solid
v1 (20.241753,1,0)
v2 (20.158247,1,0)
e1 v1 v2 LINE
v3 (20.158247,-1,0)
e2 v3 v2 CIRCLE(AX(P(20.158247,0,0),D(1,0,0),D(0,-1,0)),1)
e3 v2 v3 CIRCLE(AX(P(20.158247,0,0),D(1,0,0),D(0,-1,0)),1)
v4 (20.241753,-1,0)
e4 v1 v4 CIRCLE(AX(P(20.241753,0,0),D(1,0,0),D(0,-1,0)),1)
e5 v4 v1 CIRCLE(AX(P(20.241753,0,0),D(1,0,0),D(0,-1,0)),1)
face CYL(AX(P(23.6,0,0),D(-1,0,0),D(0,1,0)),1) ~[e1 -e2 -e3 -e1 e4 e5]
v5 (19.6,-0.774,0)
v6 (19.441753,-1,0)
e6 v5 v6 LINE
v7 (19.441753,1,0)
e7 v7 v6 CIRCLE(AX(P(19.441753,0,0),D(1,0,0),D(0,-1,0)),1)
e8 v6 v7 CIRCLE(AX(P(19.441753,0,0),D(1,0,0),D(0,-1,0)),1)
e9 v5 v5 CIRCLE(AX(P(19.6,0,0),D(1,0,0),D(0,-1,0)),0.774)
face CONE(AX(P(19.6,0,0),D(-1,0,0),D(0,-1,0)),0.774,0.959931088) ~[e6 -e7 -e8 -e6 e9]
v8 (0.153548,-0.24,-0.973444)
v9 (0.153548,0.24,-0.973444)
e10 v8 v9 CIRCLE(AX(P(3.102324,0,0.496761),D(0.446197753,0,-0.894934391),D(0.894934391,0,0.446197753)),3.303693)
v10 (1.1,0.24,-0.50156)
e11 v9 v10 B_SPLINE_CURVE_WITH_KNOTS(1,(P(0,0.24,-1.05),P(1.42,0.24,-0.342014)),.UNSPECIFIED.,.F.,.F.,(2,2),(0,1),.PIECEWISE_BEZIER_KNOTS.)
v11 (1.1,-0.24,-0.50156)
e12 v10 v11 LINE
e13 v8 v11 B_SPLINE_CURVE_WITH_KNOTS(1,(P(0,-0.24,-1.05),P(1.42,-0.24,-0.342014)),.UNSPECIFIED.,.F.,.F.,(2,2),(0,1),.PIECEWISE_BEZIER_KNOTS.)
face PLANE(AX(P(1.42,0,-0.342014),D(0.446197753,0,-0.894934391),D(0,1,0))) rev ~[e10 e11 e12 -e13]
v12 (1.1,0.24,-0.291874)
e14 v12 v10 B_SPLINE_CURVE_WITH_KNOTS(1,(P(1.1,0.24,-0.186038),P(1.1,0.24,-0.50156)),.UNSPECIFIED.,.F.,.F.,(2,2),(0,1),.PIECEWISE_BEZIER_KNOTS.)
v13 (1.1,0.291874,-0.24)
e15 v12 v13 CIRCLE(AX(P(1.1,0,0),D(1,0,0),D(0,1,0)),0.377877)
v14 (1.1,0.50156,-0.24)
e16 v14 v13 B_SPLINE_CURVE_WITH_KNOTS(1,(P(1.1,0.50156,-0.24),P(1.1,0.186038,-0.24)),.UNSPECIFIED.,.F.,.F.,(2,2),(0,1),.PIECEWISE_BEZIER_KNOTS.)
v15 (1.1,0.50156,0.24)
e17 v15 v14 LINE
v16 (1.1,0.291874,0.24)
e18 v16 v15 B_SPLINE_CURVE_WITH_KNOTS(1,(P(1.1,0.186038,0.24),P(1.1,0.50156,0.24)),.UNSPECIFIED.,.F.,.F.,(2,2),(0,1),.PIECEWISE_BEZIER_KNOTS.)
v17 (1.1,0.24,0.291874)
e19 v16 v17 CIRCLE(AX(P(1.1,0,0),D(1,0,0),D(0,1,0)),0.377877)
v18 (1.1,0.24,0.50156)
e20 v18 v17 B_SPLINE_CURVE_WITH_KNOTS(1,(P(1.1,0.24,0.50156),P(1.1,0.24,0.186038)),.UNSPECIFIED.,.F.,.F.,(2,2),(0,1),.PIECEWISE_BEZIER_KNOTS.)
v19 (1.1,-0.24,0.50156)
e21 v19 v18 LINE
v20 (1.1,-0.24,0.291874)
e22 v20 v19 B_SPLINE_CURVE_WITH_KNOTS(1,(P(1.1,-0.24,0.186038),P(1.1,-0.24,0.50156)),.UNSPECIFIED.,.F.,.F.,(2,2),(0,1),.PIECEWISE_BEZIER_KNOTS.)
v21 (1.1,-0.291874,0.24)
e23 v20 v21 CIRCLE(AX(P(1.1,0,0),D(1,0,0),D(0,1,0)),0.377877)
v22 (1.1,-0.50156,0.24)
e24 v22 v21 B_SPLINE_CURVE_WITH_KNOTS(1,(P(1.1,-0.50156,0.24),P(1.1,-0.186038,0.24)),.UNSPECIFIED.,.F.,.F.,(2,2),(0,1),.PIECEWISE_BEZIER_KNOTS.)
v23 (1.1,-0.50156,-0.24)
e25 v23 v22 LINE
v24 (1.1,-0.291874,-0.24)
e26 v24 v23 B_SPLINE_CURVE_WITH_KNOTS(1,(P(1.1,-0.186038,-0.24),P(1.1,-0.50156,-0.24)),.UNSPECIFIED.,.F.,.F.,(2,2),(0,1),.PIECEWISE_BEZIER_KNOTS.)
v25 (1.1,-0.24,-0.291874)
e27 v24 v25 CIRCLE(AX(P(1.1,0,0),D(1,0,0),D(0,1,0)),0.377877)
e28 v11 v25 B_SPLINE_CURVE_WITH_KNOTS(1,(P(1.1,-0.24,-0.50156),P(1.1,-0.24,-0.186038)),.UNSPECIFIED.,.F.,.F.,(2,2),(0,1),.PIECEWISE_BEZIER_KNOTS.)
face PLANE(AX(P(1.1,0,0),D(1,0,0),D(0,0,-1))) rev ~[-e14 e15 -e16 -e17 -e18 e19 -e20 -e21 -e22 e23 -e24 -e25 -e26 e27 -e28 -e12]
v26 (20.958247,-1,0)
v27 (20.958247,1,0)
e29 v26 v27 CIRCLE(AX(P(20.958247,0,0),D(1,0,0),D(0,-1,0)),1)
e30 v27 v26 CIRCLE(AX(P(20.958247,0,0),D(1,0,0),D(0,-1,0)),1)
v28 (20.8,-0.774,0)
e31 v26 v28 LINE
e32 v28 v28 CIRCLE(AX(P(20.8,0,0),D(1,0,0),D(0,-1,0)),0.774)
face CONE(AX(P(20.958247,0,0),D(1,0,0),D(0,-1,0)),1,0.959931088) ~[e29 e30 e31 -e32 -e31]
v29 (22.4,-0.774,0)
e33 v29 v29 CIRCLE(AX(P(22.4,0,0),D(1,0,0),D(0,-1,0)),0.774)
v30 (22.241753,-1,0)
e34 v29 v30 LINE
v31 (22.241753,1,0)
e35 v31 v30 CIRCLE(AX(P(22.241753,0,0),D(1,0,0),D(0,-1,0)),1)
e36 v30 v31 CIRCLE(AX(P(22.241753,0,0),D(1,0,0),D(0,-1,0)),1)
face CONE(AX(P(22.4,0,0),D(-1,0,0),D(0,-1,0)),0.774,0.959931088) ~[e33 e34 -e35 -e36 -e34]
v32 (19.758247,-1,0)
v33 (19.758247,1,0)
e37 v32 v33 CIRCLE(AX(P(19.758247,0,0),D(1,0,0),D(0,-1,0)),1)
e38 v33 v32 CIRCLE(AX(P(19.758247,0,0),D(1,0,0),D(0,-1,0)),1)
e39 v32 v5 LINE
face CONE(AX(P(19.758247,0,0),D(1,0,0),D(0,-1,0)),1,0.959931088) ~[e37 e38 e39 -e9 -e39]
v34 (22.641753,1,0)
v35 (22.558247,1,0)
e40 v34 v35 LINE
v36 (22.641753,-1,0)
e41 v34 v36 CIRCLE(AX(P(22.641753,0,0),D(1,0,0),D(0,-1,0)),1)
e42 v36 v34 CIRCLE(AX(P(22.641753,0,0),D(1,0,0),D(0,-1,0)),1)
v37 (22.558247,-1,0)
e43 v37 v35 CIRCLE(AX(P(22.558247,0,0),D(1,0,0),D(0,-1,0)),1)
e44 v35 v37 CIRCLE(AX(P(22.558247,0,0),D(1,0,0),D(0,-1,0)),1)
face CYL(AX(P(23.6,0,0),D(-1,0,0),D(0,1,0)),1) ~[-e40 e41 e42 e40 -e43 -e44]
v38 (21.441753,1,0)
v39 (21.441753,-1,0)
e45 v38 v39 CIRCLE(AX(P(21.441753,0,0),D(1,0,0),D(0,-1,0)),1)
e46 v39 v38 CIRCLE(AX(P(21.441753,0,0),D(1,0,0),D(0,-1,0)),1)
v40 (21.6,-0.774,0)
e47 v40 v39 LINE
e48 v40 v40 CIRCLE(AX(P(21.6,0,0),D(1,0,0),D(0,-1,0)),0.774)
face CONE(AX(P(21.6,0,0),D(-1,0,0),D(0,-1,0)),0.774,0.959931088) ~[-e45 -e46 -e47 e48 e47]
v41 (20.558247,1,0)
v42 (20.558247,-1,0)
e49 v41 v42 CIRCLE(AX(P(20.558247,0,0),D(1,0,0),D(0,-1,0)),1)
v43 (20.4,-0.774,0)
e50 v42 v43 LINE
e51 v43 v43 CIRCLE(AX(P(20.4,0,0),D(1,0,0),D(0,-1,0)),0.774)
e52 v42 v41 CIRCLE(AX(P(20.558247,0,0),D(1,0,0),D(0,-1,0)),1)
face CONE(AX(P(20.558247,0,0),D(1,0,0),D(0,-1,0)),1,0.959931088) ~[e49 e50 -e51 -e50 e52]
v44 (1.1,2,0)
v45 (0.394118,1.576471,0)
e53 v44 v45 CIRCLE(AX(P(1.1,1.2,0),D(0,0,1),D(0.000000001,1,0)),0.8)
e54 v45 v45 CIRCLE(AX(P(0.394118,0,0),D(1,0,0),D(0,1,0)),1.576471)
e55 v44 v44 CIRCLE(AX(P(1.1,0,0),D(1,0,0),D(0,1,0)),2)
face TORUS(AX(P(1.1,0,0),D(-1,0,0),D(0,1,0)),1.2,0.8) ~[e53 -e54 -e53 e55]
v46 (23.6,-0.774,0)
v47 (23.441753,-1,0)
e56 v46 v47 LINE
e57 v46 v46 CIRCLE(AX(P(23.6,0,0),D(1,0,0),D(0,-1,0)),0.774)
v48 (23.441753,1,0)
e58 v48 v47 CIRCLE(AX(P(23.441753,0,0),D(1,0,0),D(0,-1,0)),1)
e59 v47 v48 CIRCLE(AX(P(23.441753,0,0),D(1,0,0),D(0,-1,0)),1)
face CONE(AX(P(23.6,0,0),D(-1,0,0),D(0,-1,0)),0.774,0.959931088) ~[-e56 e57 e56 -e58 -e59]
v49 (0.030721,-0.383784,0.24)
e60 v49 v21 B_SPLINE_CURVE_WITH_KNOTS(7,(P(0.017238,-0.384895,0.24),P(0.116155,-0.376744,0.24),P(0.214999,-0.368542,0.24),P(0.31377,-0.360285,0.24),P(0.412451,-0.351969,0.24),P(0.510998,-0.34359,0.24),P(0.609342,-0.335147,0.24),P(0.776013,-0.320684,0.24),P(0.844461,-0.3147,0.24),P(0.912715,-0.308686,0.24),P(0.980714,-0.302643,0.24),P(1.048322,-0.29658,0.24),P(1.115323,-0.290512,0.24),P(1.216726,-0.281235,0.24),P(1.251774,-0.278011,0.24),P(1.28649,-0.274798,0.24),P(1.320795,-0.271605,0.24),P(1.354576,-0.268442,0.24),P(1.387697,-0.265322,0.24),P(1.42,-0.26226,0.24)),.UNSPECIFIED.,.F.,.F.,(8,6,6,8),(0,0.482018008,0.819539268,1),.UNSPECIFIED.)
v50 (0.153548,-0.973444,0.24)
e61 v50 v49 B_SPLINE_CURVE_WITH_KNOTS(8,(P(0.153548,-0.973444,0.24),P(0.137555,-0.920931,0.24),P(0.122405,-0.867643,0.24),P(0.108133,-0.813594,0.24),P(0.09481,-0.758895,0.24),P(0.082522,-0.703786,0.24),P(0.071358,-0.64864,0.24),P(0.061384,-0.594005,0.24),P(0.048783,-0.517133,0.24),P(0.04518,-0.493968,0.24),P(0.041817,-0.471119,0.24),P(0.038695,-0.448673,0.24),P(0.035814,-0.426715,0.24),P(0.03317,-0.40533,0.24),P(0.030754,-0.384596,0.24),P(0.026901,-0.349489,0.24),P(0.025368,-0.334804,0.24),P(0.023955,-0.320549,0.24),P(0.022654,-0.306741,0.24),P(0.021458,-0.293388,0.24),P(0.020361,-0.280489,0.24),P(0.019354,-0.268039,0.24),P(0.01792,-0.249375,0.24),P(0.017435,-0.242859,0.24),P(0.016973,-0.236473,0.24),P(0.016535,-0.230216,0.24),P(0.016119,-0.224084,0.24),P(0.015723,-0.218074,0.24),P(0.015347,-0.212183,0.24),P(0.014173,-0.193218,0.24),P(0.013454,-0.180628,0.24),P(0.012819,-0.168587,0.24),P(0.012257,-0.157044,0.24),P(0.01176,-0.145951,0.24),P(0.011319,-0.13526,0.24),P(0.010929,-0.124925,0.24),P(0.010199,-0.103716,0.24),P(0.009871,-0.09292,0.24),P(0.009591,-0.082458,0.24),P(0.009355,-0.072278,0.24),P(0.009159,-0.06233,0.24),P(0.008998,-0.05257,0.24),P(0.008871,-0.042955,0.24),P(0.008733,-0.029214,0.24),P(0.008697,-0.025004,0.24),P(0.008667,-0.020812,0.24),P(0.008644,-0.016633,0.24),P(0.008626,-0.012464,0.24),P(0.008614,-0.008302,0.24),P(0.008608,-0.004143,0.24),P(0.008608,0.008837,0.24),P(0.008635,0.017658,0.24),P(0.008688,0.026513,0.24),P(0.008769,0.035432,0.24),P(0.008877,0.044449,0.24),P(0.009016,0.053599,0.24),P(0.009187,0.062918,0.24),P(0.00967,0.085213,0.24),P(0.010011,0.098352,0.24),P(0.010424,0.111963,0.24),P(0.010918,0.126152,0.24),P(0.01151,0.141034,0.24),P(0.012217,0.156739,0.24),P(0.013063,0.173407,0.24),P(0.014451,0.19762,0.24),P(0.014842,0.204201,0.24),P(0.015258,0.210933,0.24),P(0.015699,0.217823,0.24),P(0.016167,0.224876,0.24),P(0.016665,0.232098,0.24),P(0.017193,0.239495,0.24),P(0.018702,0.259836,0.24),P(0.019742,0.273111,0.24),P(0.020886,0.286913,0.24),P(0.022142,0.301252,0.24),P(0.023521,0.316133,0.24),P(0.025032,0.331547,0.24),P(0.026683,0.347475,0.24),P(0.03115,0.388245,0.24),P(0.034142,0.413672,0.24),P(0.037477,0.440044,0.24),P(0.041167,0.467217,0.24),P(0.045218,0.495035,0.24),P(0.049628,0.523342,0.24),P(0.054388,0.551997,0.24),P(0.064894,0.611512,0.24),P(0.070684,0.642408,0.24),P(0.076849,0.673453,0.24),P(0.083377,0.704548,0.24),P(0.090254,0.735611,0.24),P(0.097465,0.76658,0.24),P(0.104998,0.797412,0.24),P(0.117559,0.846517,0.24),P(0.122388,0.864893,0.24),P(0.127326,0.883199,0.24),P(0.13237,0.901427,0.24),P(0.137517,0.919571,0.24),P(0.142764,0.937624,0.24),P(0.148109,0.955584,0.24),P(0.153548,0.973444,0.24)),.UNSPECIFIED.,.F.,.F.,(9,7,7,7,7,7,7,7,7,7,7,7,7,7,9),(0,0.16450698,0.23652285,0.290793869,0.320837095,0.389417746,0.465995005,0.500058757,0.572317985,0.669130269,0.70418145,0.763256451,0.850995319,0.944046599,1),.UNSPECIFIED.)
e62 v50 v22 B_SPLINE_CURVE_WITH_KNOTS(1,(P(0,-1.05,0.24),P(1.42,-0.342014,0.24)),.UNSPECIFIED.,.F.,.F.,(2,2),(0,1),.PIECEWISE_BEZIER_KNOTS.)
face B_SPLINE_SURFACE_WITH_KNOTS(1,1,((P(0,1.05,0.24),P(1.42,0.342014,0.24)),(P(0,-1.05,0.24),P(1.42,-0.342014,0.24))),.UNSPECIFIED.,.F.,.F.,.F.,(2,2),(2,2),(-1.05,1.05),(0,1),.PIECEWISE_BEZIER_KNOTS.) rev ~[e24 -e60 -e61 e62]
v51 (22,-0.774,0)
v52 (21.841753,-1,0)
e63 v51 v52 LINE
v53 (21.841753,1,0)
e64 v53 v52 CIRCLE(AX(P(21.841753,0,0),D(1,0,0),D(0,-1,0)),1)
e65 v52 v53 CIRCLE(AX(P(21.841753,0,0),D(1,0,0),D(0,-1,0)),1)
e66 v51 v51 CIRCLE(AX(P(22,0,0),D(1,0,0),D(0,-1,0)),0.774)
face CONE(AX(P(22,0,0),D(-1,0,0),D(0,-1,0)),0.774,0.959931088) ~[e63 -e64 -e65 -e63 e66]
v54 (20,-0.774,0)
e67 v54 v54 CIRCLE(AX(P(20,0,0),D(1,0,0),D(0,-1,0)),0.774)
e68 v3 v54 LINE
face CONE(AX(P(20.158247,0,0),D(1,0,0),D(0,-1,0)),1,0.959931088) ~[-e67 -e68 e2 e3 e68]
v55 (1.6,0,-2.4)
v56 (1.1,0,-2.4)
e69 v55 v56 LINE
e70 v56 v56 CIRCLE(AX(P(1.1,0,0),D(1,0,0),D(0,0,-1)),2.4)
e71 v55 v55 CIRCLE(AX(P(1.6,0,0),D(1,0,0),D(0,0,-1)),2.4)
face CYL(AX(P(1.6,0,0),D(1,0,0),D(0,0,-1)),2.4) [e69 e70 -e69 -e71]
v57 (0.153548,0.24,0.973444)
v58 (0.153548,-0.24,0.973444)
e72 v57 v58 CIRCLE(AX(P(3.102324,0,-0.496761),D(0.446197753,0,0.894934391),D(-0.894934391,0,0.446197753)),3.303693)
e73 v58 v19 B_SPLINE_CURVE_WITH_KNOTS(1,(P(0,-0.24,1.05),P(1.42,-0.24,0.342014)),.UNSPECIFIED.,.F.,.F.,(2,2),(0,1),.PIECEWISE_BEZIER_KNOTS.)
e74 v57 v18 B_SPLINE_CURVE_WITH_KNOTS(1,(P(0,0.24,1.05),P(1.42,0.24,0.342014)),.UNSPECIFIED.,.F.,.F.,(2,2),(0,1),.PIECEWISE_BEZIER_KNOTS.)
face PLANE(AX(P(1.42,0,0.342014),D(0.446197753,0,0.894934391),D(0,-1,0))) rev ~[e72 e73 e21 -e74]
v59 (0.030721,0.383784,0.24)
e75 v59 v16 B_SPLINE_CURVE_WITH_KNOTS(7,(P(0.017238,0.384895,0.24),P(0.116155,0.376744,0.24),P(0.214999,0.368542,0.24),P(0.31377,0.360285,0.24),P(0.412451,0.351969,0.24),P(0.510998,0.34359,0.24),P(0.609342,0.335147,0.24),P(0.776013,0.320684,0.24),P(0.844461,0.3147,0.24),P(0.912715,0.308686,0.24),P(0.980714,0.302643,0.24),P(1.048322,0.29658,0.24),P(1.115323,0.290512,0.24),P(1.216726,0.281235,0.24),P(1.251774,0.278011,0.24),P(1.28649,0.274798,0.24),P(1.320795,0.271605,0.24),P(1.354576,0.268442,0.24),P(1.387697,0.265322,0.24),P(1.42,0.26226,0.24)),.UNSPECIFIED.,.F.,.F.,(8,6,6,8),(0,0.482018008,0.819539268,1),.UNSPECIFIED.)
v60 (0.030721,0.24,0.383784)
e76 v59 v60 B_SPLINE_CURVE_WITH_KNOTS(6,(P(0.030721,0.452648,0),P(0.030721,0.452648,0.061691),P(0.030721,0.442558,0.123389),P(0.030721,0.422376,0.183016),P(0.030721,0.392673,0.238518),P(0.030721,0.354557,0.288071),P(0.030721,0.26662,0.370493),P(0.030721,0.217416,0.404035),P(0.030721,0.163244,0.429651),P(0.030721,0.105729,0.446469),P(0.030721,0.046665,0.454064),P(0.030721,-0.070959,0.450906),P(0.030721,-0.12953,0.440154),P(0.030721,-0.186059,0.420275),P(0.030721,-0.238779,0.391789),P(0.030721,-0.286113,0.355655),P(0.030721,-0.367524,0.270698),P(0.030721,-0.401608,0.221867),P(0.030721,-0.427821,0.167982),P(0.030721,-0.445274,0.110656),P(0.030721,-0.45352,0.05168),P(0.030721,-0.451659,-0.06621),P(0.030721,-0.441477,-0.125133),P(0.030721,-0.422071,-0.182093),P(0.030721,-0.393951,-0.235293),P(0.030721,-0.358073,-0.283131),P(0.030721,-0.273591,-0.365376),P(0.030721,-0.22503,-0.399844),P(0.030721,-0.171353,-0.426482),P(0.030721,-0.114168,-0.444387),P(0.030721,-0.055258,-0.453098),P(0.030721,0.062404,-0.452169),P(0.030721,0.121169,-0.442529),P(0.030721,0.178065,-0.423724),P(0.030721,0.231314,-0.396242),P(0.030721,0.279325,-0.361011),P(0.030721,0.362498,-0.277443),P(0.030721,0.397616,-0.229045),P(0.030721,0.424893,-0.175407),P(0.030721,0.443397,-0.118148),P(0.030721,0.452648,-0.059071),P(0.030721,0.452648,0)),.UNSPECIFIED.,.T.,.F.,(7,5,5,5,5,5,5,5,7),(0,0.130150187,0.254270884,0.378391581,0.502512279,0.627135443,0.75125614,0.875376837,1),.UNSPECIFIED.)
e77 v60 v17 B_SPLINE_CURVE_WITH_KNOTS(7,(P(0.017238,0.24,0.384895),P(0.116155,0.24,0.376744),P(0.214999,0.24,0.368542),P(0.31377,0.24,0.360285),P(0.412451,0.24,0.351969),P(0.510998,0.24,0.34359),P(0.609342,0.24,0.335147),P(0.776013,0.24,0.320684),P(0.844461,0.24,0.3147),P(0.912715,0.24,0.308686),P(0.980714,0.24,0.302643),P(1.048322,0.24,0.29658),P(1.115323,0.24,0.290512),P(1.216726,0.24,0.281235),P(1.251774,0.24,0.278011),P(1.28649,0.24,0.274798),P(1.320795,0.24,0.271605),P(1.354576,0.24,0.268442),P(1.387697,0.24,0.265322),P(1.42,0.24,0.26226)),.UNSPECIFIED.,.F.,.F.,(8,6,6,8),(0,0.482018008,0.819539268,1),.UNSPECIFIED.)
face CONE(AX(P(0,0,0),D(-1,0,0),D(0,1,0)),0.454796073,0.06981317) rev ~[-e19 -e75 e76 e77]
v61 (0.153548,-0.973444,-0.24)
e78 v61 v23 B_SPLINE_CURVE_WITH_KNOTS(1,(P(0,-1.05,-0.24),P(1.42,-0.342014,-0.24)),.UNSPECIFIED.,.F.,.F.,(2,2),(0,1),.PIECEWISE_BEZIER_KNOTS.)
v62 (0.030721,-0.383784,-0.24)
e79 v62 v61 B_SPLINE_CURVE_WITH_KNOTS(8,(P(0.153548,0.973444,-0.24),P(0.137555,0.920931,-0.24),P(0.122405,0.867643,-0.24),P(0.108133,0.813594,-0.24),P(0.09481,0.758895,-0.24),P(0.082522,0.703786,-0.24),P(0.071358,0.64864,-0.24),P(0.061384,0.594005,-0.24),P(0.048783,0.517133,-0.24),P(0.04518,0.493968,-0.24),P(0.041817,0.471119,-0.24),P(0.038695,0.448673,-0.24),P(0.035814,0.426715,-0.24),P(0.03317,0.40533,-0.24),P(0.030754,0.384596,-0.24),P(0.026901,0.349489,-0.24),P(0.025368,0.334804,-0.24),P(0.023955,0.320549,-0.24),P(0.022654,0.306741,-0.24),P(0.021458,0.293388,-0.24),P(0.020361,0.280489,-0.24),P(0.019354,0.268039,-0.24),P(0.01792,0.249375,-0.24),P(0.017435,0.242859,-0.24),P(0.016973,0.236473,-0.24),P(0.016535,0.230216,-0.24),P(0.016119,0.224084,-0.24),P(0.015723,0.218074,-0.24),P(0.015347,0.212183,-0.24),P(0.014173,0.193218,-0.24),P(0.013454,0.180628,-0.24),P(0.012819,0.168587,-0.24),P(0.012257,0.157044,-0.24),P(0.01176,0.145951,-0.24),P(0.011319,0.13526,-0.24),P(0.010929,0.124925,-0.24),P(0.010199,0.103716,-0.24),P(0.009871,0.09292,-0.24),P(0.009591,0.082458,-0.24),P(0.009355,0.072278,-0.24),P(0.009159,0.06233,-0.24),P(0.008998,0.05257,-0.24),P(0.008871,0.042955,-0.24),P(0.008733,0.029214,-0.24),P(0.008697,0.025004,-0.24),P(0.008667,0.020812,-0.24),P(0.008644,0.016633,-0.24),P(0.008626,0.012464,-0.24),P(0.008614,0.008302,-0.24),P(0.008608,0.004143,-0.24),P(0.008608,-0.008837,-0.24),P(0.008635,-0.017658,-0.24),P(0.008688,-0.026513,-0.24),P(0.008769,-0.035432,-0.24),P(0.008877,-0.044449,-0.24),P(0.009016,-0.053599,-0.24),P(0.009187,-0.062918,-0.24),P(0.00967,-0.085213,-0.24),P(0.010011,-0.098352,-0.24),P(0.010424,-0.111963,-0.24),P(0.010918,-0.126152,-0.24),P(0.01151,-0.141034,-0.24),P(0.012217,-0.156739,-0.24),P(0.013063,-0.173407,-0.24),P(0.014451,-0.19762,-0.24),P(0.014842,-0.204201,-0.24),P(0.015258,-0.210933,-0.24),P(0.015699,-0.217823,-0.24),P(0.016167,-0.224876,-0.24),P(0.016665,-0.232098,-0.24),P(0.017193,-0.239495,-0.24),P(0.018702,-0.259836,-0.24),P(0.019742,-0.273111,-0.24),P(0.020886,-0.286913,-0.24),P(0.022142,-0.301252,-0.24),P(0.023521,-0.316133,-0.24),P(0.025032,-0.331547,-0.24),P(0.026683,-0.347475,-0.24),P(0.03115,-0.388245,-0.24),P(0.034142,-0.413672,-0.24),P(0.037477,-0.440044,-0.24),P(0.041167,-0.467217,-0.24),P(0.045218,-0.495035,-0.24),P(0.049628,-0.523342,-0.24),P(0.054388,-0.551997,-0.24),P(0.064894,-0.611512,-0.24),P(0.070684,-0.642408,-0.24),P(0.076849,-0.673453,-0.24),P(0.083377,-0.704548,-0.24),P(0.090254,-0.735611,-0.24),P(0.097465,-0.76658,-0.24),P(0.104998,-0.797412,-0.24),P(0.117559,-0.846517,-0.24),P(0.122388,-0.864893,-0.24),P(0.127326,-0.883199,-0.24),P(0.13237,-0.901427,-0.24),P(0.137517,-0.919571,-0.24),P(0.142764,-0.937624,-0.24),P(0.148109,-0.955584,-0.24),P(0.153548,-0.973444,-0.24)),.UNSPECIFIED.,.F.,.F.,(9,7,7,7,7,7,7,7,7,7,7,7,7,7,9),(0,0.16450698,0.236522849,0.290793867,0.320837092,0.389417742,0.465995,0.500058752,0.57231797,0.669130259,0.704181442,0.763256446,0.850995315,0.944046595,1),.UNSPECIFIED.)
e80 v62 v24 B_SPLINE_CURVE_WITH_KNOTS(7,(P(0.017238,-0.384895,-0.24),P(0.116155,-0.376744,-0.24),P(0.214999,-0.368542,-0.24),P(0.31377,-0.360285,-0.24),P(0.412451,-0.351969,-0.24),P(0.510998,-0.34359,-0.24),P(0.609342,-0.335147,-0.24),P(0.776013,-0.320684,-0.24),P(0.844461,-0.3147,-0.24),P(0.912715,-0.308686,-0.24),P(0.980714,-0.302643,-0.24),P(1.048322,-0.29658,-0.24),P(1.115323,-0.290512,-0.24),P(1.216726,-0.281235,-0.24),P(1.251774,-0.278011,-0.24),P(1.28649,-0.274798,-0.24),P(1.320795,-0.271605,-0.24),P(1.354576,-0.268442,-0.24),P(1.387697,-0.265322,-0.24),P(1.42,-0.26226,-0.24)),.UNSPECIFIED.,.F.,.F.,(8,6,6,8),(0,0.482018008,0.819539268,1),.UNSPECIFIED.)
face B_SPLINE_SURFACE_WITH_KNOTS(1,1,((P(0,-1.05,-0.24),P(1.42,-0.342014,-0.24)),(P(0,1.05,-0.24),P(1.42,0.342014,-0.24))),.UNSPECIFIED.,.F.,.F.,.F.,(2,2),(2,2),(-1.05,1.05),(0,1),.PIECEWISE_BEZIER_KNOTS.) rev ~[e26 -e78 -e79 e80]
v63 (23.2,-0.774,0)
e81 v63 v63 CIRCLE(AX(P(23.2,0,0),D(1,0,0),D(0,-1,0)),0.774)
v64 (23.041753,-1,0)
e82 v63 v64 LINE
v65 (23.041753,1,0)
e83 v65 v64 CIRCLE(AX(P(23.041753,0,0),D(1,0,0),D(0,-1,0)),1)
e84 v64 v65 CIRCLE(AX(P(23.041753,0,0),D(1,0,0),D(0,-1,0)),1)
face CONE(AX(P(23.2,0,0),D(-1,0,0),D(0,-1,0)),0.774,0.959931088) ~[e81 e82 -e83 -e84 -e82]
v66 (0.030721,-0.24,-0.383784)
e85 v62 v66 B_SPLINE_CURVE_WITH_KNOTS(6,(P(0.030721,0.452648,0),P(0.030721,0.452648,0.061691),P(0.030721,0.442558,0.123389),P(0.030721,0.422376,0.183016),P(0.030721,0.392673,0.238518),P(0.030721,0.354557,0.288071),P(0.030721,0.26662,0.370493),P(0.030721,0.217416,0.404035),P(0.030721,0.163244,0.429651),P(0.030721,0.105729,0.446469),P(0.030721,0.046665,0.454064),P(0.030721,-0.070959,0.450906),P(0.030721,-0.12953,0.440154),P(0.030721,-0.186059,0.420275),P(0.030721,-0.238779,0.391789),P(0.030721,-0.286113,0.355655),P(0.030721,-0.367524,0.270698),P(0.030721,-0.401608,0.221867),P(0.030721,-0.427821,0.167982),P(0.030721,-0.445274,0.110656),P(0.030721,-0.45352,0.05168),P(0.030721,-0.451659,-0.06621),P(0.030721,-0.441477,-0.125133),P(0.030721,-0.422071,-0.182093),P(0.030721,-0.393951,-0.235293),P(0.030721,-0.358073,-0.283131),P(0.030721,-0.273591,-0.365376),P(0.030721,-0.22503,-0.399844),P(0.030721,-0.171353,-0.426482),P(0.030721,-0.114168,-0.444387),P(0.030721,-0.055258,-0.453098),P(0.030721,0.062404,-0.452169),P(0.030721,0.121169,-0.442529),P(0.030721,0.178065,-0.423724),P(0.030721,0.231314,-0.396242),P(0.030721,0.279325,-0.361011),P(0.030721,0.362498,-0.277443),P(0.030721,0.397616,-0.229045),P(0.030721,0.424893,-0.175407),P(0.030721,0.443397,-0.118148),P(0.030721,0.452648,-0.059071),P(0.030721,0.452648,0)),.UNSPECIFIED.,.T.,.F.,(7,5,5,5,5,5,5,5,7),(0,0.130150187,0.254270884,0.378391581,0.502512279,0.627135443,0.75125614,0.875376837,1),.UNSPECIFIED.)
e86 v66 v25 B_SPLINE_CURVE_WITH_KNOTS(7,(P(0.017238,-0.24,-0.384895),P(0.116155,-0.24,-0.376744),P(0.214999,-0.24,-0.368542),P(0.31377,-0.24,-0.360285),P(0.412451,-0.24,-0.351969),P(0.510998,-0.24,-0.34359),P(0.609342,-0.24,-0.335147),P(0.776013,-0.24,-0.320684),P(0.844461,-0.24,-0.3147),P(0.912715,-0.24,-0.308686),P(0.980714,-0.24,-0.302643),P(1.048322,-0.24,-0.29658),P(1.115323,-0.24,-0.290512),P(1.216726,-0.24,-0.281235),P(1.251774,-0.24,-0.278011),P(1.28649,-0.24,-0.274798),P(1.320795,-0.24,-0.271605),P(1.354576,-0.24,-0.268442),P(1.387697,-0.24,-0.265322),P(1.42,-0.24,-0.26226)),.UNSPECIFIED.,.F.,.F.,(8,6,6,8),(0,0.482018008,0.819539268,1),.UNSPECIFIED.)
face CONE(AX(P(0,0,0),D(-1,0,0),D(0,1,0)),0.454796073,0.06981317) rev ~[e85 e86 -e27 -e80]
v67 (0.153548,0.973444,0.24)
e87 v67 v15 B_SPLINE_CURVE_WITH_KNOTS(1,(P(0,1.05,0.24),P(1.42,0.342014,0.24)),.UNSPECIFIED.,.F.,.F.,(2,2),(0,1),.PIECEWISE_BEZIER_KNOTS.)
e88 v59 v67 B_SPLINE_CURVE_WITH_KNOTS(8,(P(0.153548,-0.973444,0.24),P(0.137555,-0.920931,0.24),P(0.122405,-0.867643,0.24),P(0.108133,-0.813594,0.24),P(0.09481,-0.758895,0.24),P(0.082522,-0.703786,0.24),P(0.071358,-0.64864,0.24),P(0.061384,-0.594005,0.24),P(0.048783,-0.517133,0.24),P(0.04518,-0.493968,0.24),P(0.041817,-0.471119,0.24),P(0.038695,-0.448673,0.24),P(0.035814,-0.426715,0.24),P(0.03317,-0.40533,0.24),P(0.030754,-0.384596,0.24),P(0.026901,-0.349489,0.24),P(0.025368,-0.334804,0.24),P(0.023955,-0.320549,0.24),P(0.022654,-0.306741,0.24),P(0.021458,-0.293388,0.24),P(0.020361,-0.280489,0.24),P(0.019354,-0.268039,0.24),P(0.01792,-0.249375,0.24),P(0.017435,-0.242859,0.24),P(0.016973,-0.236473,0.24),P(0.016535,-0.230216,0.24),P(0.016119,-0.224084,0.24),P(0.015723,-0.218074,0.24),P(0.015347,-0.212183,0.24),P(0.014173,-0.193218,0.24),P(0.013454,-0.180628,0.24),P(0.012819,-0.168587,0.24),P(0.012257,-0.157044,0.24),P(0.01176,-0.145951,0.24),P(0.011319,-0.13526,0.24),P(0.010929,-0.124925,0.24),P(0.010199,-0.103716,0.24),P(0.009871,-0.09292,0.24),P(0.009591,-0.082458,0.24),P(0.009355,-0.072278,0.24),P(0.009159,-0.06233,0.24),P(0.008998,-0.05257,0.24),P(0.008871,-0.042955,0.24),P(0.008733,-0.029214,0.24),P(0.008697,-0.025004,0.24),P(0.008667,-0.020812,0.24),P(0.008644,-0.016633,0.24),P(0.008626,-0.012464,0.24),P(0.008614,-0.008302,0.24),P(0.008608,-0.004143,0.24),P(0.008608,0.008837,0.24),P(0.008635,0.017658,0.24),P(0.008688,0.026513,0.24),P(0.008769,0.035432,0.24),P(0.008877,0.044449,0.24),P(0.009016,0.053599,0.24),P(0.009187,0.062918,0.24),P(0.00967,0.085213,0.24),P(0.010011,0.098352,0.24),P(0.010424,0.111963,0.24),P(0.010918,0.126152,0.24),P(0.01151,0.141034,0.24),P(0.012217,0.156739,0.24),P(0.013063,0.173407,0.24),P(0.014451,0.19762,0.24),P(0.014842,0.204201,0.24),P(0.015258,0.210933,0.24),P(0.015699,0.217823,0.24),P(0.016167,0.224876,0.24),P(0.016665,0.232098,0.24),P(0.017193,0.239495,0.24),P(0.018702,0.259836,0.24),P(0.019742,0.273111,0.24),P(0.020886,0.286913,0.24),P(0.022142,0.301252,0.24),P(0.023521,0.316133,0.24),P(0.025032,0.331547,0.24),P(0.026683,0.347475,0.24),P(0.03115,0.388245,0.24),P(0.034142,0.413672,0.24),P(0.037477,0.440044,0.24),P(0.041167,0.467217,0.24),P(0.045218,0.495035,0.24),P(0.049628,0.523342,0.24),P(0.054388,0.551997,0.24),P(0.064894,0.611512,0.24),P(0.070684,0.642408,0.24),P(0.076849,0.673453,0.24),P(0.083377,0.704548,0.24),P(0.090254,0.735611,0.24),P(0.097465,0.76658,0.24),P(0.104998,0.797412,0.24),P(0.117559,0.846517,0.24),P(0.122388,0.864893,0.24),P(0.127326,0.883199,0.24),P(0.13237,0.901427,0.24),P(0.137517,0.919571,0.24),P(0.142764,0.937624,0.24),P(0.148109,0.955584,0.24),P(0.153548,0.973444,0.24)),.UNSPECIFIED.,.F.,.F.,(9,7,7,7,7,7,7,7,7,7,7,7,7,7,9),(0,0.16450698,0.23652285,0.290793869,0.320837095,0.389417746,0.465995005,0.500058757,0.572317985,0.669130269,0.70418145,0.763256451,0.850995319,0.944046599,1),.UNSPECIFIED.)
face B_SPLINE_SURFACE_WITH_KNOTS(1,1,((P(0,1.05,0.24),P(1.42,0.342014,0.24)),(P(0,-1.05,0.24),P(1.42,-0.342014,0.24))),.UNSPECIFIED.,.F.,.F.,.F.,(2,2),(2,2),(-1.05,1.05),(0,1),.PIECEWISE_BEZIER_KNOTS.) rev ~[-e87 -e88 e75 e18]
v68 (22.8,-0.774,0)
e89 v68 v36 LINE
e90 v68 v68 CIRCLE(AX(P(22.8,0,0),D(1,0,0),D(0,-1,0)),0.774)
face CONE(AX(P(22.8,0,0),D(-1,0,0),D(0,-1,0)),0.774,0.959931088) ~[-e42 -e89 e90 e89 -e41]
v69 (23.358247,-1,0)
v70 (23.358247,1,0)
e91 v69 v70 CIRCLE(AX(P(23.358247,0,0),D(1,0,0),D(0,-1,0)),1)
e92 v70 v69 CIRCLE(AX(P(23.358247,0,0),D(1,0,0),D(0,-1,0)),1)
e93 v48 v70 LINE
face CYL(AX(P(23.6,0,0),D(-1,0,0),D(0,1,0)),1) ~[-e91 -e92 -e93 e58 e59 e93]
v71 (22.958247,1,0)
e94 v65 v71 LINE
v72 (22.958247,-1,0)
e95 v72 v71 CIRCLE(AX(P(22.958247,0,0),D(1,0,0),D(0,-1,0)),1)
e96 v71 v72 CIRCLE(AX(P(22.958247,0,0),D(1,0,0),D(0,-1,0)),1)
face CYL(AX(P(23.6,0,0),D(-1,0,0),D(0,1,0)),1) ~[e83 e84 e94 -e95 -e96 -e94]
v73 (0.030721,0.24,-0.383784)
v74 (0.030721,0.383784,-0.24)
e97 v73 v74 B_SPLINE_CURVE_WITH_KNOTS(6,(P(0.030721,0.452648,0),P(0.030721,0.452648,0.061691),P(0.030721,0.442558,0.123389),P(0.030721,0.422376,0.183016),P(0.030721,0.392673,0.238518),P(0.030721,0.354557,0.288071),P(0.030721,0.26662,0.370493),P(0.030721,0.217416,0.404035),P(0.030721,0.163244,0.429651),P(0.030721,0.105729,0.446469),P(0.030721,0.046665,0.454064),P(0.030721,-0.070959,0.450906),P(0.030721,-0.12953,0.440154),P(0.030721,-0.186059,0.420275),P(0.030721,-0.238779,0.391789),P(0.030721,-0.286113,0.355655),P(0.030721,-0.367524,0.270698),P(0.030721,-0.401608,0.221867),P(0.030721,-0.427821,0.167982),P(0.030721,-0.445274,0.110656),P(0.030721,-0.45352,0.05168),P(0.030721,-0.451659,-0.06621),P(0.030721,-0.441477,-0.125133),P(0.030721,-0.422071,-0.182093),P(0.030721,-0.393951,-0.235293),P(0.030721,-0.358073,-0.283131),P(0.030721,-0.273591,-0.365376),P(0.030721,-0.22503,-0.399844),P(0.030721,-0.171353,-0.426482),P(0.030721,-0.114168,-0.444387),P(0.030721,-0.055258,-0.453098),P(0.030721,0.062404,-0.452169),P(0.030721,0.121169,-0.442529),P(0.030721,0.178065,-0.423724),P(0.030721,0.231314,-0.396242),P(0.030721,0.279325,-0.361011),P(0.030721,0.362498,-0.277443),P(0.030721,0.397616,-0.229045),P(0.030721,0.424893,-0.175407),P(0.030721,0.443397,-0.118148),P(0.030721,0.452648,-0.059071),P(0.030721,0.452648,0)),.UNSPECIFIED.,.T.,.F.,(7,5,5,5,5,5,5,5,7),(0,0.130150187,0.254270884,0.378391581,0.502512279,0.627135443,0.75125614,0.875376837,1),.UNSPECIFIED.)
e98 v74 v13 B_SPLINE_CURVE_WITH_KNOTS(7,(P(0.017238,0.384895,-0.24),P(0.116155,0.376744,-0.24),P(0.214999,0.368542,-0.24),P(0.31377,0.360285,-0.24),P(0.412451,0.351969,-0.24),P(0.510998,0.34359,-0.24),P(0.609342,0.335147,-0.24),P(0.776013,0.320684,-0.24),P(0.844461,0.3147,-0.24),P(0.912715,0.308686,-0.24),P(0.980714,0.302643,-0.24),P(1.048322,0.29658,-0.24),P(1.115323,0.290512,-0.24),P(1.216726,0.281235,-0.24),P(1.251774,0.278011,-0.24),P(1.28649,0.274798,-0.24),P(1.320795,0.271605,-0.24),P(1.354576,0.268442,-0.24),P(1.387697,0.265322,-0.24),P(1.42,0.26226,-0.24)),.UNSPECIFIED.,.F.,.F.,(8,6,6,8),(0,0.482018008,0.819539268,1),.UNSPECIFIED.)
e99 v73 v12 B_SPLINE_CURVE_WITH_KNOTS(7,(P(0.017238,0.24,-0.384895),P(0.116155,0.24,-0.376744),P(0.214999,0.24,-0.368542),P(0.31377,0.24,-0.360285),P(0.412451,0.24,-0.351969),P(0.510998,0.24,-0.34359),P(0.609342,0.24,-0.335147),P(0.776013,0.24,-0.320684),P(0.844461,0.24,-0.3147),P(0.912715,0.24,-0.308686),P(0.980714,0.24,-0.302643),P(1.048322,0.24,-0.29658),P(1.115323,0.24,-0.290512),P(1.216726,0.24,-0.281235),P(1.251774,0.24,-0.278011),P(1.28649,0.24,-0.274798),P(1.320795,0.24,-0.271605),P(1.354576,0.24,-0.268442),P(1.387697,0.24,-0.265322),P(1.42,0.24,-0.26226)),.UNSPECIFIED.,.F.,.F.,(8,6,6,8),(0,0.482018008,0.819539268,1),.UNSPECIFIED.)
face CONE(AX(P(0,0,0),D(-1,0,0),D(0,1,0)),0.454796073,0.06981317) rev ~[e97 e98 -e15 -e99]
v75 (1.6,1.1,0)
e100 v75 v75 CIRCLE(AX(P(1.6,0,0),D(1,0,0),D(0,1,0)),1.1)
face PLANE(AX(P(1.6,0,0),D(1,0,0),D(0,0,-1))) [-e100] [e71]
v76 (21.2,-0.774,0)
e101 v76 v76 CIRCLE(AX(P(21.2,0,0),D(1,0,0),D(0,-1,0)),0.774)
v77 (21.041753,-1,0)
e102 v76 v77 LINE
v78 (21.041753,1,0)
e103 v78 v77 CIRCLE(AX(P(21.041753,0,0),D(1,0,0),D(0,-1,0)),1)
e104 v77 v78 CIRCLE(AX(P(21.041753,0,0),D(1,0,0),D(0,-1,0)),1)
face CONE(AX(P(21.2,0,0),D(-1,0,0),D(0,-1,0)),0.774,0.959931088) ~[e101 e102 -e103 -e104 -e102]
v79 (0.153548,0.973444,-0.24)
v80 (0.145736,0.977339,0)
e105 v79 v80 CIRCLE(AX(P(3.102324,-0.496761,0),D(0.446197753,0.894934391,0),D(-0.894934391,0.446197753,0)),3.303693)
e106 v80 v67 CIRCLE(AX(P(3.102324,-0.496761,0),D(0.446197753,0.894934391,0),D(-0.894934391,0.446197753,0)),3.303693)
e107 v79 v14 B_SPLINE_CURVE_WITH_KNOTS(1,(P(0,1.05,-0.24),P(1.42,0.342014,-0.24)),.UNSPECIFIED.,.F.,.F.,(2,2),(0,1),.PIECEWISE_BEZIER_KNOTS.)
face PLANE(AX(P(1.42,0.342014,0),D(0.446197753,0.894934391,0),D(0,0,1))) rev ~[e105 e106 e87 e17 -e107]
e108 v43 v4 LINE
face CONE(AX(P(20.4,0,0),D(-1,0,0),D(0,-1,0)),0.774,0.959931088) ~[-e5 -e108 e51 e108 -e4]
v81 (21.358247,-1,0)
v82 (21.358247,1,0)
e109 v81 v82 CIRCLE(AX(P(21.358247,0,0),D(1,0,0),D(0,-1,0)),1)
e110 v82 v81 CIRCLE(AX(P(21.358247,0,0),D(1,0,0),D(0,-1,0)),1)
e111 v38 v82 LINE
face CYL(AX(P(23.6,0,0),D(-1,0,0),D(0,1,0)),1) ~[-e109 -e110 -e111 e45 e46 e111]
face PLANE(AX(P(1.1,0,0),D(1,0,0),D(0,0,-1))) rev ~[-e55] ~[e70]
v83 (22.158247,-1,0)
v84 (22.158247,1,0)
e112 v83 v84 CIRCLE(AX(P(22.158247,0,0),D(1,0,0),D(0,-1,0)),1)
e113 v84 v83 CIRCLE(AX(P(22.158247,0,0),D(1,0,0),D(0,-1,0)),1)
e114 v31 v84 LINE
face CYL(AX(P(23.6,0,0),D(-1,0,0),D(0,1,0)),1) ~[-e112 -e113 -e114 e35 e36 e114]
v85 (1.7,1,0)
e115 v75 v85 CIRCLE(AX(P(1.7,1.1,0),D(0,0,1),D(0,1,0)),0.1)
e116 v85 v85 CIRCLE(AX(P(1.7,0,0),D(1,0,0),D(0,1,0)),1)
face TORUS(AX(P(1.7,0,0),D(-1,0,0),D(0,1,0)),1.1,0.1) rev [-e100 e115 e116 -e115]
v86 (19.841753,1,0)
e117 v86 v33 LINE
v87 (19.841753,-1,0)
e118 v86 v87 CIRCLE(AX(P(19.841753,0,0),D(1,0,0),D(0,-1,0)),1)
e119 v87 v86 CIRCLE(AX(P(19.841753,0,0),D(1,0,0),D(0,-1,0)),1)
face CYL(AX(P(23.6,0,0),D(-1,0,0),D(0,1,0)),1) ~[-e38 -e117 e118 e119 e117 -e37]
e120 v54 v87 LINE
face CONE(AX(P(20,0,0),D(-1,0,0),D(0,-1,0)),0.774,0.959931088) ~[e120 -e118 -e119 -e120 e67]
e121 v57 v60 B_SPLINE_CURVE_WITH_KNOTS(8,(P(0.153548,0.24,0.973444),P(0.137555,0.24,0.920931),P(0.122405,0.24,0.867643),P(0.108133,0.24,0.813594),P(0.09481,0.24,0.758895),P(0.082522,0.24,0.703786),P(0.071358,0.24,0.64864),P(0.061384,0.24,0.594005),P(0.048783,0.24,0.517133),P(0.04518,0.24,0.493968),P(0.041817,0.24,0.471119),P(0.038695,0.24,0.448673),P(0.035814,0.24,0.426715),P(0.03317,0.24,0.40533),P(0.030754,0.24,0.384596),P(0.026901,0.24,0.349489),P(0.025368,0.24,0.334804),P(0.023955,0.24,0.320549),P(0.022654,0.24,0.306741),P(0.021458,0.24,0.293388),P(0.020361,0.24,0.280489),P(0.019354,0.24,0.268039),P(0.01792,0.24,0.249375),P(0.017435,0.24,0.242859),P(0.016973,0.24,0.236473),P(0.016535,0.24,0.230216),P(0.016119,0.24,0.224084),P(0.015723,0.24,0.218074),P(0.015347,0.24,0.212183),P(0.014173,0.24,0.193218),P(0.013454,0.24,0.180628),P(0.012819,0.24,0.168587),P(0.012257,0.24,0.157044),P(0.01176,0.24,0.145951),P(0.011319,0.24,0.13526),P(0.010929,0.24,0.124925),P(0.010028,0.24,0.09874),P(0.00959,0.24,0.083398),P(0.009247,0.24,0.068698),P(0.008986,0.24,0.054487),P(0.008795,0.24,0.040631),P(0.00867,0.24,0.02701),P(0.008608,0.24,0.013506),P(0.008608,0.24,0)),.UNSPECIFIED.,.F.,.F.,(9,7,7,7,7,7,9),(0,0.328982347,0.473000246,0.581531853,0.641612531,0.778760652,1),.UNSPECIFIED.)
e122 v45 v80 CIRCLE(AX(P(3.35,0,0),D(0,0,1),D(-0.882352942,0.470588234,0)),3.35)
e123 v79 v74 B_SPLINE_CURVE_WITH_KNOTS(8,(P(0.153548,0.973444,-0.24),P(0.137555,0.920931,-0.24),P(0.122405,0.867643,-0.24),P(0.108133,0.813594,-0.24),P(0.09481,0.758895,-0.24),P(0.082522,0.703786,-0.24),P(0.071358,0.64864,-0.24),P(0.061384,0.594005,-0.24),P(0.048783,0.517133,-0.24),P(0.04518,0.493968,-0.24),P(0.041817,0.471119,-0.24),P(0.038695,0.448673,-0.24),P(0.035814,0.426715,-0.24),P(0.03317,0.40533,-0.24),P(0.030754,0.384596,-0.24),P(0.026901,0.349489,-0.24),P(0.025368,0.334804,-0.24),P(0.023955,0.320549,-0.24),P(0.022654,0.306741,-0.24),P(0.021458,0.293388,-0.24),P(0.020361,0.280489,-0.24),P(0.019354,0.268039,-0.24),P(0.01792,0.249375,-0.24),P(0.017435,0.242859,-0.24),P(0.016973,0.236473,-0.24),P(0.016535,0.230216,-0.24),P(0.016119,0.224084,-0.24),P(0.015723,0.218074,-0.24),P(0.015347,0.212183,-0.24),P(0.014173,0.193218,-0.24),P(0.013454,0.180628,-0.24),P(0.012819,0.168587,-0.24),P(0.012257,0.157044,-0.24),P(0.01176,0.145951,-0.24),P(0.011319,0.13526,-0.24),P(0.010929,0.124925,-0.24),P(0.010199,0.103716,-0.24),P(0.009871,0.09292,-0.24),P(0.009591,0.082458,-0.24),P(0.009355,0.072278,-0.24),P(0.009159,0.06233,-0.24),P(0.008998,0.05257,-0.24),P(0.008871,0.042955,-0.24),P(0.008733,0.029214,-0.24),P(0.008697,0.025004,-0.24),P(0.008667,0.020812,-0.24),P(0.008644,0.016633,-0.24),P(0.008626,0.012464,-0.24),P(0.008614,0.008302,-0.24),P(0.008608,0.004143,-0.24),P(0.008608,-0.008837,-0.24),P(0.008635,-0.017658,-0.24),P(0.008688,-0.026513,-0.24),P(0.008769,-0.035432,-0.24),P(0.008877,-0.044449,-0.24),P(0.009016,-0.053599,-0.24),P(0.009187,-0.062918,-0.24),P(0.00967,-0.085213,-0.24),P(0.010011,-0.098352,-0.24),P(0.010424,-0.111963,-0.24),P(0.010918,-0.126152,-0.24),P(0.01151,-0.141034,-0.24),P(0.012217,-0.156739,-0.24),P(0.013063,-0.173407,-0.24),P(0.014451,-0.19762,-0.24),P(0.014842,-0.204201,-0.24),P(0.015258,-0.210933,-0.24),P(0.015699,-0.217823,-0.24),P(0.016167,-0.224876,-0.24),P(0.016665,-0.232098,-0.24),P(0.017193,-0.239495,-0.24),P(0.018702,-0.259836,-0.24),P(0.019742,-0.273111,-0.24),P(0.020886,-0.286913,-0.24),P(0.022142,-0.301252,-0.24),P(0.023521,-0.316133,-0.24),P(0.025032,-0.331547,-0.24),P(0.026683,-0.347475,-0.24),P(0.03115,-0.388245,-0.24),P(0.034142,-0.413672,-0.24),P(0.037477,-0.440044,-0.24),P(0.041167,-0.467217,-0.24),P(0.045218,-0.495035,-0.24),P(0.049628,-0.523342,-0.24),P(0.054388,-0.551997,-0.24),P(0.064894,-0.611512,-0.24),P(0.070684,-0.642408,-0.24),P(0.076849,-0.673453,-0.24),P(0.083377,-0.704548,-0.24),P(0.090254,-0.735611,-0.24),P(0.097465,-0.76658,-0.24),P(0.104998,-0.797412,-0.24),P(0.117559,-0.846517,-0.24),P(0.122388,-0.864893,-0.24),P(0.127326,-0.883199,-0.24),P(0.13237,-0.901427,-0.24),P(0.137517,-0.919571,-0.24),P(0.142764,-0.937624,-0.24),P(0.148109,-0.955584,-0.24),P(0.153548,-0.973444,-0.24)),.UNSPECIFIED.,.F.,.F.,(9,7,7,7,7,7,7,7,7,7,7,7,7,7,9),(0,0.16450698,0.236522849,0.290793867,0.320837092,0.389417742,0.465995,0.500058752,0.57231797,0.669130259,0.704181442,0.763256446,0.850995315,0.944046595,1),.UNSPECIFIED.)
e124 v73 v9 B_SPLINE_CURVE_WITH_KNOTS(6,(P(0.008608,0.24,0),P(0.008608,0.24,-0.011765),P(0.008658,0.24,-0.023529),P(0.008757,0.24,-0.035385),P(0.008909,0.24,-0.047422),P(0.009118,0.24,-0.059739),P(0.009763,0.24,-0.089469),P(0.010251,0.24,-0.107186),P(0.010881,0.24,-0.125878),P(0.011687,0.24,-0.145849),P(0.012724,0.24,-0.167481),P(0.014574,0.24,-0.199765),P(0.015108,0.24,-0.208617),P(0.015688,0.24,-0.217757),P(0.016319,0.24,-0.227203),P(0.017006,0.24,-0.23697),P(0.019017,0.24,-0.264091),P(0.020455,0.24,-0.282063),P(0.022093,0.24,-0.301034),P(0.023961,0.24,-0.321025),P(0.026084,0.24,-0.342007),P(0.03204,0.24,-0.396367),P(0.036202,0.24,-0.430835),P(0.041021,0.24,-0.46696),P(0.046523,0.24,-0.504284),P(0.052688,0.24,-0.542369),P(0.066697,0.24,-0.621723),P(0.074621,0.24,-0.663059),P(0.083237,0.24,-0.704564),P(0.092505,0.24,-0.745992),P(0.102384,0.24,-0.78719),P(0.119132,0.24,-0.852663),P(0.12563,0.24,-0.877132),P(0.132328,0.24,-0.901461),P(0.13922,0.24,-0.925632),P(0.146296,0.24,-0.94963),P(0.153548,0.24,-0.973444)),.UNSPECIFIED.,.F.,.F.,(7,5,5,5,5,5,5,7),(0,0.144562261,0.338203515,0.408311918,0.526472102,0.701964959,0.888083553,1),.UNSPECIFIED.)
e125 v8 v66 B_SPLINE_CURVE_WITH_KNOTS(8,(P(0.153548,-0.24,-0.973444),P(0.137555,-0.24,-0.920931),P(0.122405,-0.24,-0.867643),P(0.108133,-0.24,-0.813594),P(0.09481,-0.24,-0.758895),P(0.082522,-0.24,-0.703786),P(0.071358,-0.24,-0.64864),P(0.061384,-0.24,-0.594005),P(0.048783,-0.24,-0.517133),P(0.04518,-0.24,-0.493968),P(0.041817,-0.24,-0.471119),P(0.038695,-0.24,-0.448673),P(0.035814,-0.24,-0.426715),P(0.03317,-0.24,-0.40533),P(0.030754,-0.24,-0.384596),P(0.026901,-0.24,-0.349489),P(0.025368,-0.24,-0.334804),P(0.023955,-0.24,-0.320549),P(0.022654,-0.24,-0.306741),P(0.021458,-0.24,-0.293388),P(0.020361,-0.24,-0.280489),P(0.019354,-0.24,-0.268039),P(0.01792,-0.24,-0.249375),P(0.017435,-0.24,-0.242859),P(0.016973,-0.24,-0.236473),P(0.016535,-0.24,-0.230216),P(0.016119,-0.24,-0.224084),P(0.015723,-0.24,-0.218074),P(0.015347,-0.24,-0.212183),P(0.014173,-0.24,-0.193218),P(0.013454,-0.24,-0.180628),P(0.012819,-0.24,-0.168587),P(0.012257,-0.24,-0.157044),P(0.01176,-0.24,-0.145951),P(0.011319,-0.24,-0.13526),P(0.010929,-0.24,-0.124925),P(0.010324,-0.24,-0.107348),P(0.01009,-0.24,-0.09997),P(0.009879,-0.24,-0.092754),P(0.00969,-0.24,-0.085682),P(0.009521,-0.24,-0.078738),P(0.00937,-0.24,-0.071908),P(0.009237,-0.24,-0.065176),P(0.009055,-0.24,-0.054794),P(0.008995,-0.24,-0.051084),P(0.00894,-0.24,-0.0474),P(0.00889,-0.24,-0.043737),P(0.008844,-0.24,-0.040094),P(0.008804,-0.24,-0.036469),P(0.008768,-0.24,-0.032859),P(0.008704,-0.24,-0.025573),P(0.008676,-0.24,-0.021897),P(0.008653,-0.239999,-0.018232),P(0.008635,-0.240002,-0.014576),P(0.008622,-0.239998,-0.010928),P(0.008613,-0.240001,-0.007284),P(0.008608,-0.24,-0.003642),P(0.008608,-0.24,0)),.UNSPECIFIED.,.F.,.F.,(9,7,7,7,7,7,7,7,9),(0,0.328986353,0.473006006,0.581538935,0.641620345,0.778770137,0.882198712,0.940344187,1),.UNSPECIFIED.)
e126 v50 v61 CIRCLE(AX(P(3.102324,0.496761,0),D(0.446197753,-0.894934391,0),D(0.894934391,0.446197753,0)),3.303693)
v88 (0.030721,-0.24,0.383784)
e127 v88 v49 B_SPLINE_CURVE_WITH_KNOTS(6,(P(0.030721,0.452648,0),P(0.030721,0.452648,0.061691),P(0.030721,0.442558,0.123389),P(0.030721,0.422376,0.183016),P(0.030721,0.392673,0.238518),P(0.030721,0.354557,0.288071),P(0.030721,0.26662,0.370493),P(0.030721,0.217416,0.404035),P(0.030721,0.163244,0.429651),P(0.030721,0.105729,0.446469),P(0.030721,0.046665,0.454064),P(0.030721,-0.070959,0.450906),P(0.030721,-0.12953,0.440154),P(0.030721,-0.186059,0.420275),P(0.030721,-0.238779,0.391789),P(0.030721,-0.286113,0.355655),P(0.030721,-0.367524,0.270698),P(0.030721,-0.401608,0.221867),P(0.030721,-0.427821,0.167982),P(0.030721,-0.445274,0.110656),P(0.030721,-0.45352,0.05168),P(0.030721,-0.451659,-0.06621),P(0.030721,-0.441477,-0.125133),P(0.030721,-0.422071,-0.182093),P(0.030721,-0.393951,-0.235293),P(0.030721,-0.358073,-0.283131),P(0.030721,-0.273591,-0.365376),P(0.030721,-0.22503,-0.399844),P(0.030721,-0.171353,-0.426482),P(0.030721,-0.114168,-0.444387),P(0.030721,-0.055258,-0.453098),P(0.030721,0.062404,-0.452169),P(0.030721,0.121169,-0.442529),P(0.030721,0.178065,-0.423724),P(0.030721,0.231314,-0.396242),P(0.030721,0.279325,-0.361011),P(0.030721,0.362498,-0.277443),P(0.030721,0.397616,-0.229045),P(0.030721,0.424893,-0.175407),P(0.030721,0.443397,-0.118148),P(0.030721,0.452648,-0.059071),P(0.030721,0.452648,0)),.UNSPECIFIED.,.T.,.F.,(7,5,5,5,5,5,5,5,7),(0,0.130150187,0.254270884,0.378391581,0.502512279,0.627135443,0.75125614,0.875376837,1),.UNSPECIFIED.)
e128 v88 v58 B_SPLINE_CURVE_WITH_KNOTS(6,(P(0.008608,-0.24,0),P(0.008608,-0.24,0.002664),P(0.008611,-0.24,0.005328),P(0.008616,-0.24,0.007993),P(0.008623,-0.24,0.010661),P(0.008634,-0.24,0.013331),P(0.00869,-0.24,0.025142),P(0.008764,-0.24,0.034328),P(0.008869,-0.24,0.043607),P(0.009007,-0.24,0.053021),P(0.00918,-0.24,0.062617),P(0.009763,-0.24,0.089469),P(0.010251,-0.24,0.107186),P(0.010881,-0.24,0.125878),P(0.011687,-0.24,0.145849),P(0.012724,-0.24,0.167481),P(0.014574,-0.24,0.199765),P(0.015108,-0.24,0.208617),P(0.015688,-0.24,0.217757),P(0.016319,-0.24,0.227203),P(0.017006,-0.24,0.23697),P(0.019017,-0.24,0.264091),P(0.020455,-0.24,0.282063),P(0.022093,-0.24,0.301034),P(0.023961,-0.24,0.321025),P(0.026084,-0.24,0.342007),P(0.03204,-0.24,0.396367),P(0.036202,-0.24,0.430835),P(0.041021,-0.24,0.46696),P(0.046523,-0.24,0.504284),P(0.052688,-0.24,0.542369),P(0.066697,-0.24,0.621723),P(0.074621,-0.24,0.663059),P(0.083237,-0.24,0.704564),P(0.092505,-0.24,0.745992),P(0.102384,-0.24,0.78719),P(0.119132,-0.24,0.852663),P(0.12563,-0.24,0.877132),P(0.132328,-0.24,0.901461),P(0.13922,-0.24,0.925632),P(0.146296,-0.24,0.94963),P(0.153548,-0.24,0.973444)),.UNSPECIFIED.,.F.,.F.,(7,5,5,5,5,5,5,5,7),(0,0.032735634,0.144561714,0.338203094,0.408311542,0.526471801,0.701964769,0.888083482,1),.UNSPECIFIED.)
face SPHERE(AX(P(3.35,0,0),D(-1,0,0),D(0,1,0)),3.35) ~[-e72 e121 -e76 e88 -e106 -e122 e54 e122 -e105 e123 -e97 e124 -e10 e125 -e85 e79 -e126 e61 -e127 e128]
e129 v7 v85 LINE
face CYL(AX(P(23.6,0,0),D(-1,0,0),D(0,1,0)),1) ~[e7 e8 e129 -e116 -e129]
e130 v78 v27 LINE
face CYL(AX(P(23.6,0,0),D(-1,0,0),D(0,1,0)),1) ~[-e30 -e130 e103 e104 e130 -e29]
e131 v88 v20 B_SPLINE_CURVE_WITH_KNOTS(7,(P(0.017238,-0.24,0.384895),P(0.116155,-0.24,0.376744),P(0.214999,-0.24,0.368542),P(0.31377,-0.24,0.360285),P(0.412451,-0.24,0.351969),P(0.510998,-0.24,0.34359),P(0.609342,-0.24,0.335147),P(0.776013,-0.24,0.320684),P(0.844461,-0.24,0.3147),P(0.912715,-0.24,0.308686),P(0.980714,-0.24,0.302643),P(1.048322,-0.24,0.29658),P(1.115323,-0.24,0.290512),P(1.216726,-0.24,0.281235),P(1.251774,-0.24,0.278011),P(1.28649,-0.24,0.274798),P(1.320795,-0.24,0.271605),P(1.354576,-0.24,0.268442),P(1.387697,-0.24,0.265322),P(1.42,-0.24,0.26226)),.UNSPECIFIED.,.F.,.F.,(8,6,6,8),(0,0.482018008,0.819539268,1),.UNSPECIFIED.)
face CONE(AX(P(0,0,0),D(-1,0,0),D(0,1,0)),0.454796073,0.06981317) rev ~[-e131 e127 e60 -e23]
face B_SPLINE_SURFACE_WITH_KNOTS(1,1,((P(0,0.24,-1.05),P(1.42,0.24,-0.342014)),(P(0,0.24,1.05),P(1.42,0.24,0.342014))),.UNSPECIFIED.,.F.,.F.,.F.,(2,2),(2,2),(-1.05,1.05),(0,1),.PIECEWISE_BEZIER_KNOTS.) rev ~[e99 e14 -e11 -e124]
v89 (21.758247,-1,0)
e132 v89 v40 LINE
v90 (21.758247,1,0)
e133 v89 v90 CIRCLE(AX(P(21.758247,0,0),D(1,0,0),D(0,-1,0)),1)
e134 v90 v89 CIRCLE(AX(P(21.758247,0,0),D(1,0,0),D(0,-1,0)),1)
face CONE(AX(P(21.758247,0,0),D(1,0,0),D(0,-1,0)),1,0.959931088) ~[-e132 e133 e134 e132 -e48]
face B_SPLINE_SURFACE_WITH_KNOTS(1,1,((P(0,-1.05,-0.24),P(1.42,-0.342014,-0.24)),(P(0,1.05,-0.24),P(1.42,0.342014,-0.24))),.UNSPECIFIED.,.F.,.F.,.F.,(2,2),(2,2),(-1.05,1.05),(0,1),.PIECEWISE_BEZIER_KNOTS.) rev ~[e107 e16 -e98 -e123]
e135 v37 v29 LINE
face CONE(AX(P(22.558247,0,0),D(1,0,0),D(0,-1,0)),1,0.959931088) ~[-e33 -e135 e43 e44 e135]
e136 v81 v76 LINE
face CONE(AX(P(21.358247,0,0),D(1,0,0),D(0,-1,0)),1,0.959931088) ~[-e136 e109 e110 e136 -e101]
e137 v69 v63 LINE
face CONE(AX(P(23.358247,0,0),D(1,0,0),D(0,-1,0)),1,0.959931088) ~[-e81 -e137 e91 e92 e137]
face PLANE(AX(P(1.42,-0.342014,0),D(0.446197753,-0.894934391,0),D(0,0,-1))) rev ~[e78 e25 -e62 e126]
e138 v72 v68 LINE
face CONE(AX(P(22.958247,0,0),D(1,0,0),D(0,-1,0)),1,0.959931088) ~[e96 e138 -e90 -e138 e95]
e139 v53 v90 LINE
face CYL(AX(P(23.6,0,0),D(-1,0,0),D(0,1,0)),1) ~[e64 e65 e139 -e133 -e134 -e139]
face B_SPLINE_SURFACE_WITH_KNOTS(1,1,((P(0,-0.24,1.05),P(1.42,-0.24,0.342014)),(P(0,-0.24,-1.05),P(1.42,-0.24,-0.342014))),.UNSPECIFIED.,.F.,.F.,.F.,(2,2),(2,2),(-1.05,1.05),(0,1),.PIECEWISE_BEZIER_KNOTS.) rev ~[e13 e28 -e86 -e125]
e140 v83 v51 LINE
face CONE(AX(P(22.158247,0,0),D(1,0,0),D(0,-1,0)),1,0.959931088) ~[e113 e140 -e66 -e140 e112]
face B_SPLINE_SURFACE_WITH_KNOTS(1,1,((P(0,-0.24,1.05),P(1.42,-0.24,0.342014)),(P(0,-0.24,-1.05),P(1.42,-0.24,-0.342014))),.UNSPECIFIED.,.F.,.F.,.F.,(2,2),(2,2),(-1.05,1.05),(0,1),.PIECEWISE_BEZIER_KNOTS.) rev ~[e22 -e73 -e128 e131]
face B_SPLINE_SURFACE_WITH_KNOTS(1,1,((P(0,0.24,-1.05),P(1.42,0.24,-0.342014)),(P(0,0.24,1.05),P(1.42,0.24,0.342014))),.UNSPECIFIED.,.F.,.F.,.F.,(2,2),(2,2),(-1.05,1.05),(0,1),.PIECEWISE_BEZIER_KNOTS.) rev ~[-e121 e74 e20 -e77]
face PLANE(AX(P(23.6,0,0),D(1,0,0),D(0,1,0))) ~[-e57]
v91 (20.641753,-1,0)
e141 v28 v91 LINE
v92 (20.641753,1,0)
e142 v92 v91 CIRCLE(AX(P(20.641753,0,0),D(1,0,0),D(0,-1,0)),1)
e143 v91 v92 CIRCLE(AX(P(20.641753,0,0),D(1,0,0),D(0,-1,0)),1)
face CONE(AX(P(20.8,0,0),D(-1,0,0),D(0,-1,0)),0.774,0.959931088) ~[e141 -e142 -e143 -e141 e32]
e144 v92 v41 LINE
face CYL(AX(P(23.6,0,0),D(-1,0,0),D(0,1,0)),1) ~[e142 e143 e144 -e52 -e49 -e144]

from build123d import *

# Parameters (mm, degrees)
FILLET1_R                = 0.1
SKETCH3_W                = 0.48
SKETCH3_H                = 2.1
SKETCH4_W                = 0.48
SKETCH4_H                = 0.68402847
RECPAT_COUNT             = 2
RECPAT_ANGLE             = 90
THDSCHPAT_COUNT          = 11
THDSCHPAT_PITCH          = 0.4
ESBO_O1_R                = 2.4
RESSALTO_EXTRUS_O1_DEPTH = 0.5


with BuildPart() as part:
    # BodySke → Base-Revolve (revolve)
    with BuildSketch(Plane.XY):
        with BuildLine():
            Line((1.6, 1), (1.6, 2))
            Line((1.6, 2), (1.1, 2))
            ThreePointArc((1.1, 2), (0.688403396, 1.885994341), (0.394117647, 1.576470588))
            ThreePointArc((0.394117647, 1.576470588), (0.100022625, 0.812494344), (0, 0))
            Line((0, 0), (23.6, 0))
            Line((23.6, 0), (23.6, 1))
            Line((23.6, 1), (1.6, 1))
        make_face()
    revolve(axis=Axis((-25.4, 0, 0), (1, 0, 0)))

    # Fillet1
    fillet1_edges = [part.edges().sort_by_distance(p)[0] for p in [
        (1.6, -1, 0),
    ]]
    fillet(fillet1_edges, radius=FILLET1_R)

    # Sketch3 → Recess section 0
    with BuildSketch(Plane(origin=(0, 0, 0), x_dir=(0, 0, -1), z_dir=(1, 0, 0))):
        Rectangle(SKETCH3_W, SKETCH3_H)
    # Sketch4 → Recess section 1
    with BuildSketch(Plane(origin=(1.42, 0, 0), x_dir=(0, 0, -1), z_dir=(1, 0, 0))):
        Rectangle(SKETCH4_W, SKETCH4_H)
    recess = loft(mode=Mode.SUBTRACT)

    # RecPat: Recess ×2 about axis
    recpat_axis = Axis((0, 0, 0), (1, 0, 0))
    for i in range(1, RECPAT_COUNT):
        add(recess.rotate(recpat_axis, i * RECPAT_ANGLE / (RECPAT_COUNT - 1)), mode=Mode.SUBTRACT)

    # RecCorSke → RecessCore (revolve, cut)
    with BuildSketch(Plane.XY):
        Polygon((0, 0), (0, 0.454796073), (1.42, 0.3555), (1.535508952, 0), align=None)
    revolve(axis=Axis((-3.175, 0, 0), (1, 0, 0)), mode=Mode.SUBTRACT)

    # ThdSchSke → ThreadSchematic (revolve, cut)
    with BuildSketch(Plane.XY):
        Polygon((19.6, -0.774), (19.441753096, -1), (19.441753096, -1.25), (19.758246904, -1.25), (19.758246904, -1), align=None)
    threadschematic = revolve(axis=Axis((-3.175, 0, 0), (1, 0, 0)), mode=Mode.SUBTRACT)

    # ThdSchPat: ThreadSchematic ×11
    with Locations(*[(i * THDSCHPAT_PITCH, 0, 0) for i in range(1, THDSCHPAT_COUNT)]):
        add(threadschematic, mode=Mode.SUBTRACT)

    # Esboço1 → Ressalto-extrusão1 (add)
    with BuildSketch(Plane(origin=(1.6, 0, 0), x_dir=(0, 0, -1), z_dir=(1, 0, 0))):
        Circle(ESBO_O1_R)
    extrude(amount=-RESSALTO_EXTRUS_O1_DEPTH)


solid = part.part
